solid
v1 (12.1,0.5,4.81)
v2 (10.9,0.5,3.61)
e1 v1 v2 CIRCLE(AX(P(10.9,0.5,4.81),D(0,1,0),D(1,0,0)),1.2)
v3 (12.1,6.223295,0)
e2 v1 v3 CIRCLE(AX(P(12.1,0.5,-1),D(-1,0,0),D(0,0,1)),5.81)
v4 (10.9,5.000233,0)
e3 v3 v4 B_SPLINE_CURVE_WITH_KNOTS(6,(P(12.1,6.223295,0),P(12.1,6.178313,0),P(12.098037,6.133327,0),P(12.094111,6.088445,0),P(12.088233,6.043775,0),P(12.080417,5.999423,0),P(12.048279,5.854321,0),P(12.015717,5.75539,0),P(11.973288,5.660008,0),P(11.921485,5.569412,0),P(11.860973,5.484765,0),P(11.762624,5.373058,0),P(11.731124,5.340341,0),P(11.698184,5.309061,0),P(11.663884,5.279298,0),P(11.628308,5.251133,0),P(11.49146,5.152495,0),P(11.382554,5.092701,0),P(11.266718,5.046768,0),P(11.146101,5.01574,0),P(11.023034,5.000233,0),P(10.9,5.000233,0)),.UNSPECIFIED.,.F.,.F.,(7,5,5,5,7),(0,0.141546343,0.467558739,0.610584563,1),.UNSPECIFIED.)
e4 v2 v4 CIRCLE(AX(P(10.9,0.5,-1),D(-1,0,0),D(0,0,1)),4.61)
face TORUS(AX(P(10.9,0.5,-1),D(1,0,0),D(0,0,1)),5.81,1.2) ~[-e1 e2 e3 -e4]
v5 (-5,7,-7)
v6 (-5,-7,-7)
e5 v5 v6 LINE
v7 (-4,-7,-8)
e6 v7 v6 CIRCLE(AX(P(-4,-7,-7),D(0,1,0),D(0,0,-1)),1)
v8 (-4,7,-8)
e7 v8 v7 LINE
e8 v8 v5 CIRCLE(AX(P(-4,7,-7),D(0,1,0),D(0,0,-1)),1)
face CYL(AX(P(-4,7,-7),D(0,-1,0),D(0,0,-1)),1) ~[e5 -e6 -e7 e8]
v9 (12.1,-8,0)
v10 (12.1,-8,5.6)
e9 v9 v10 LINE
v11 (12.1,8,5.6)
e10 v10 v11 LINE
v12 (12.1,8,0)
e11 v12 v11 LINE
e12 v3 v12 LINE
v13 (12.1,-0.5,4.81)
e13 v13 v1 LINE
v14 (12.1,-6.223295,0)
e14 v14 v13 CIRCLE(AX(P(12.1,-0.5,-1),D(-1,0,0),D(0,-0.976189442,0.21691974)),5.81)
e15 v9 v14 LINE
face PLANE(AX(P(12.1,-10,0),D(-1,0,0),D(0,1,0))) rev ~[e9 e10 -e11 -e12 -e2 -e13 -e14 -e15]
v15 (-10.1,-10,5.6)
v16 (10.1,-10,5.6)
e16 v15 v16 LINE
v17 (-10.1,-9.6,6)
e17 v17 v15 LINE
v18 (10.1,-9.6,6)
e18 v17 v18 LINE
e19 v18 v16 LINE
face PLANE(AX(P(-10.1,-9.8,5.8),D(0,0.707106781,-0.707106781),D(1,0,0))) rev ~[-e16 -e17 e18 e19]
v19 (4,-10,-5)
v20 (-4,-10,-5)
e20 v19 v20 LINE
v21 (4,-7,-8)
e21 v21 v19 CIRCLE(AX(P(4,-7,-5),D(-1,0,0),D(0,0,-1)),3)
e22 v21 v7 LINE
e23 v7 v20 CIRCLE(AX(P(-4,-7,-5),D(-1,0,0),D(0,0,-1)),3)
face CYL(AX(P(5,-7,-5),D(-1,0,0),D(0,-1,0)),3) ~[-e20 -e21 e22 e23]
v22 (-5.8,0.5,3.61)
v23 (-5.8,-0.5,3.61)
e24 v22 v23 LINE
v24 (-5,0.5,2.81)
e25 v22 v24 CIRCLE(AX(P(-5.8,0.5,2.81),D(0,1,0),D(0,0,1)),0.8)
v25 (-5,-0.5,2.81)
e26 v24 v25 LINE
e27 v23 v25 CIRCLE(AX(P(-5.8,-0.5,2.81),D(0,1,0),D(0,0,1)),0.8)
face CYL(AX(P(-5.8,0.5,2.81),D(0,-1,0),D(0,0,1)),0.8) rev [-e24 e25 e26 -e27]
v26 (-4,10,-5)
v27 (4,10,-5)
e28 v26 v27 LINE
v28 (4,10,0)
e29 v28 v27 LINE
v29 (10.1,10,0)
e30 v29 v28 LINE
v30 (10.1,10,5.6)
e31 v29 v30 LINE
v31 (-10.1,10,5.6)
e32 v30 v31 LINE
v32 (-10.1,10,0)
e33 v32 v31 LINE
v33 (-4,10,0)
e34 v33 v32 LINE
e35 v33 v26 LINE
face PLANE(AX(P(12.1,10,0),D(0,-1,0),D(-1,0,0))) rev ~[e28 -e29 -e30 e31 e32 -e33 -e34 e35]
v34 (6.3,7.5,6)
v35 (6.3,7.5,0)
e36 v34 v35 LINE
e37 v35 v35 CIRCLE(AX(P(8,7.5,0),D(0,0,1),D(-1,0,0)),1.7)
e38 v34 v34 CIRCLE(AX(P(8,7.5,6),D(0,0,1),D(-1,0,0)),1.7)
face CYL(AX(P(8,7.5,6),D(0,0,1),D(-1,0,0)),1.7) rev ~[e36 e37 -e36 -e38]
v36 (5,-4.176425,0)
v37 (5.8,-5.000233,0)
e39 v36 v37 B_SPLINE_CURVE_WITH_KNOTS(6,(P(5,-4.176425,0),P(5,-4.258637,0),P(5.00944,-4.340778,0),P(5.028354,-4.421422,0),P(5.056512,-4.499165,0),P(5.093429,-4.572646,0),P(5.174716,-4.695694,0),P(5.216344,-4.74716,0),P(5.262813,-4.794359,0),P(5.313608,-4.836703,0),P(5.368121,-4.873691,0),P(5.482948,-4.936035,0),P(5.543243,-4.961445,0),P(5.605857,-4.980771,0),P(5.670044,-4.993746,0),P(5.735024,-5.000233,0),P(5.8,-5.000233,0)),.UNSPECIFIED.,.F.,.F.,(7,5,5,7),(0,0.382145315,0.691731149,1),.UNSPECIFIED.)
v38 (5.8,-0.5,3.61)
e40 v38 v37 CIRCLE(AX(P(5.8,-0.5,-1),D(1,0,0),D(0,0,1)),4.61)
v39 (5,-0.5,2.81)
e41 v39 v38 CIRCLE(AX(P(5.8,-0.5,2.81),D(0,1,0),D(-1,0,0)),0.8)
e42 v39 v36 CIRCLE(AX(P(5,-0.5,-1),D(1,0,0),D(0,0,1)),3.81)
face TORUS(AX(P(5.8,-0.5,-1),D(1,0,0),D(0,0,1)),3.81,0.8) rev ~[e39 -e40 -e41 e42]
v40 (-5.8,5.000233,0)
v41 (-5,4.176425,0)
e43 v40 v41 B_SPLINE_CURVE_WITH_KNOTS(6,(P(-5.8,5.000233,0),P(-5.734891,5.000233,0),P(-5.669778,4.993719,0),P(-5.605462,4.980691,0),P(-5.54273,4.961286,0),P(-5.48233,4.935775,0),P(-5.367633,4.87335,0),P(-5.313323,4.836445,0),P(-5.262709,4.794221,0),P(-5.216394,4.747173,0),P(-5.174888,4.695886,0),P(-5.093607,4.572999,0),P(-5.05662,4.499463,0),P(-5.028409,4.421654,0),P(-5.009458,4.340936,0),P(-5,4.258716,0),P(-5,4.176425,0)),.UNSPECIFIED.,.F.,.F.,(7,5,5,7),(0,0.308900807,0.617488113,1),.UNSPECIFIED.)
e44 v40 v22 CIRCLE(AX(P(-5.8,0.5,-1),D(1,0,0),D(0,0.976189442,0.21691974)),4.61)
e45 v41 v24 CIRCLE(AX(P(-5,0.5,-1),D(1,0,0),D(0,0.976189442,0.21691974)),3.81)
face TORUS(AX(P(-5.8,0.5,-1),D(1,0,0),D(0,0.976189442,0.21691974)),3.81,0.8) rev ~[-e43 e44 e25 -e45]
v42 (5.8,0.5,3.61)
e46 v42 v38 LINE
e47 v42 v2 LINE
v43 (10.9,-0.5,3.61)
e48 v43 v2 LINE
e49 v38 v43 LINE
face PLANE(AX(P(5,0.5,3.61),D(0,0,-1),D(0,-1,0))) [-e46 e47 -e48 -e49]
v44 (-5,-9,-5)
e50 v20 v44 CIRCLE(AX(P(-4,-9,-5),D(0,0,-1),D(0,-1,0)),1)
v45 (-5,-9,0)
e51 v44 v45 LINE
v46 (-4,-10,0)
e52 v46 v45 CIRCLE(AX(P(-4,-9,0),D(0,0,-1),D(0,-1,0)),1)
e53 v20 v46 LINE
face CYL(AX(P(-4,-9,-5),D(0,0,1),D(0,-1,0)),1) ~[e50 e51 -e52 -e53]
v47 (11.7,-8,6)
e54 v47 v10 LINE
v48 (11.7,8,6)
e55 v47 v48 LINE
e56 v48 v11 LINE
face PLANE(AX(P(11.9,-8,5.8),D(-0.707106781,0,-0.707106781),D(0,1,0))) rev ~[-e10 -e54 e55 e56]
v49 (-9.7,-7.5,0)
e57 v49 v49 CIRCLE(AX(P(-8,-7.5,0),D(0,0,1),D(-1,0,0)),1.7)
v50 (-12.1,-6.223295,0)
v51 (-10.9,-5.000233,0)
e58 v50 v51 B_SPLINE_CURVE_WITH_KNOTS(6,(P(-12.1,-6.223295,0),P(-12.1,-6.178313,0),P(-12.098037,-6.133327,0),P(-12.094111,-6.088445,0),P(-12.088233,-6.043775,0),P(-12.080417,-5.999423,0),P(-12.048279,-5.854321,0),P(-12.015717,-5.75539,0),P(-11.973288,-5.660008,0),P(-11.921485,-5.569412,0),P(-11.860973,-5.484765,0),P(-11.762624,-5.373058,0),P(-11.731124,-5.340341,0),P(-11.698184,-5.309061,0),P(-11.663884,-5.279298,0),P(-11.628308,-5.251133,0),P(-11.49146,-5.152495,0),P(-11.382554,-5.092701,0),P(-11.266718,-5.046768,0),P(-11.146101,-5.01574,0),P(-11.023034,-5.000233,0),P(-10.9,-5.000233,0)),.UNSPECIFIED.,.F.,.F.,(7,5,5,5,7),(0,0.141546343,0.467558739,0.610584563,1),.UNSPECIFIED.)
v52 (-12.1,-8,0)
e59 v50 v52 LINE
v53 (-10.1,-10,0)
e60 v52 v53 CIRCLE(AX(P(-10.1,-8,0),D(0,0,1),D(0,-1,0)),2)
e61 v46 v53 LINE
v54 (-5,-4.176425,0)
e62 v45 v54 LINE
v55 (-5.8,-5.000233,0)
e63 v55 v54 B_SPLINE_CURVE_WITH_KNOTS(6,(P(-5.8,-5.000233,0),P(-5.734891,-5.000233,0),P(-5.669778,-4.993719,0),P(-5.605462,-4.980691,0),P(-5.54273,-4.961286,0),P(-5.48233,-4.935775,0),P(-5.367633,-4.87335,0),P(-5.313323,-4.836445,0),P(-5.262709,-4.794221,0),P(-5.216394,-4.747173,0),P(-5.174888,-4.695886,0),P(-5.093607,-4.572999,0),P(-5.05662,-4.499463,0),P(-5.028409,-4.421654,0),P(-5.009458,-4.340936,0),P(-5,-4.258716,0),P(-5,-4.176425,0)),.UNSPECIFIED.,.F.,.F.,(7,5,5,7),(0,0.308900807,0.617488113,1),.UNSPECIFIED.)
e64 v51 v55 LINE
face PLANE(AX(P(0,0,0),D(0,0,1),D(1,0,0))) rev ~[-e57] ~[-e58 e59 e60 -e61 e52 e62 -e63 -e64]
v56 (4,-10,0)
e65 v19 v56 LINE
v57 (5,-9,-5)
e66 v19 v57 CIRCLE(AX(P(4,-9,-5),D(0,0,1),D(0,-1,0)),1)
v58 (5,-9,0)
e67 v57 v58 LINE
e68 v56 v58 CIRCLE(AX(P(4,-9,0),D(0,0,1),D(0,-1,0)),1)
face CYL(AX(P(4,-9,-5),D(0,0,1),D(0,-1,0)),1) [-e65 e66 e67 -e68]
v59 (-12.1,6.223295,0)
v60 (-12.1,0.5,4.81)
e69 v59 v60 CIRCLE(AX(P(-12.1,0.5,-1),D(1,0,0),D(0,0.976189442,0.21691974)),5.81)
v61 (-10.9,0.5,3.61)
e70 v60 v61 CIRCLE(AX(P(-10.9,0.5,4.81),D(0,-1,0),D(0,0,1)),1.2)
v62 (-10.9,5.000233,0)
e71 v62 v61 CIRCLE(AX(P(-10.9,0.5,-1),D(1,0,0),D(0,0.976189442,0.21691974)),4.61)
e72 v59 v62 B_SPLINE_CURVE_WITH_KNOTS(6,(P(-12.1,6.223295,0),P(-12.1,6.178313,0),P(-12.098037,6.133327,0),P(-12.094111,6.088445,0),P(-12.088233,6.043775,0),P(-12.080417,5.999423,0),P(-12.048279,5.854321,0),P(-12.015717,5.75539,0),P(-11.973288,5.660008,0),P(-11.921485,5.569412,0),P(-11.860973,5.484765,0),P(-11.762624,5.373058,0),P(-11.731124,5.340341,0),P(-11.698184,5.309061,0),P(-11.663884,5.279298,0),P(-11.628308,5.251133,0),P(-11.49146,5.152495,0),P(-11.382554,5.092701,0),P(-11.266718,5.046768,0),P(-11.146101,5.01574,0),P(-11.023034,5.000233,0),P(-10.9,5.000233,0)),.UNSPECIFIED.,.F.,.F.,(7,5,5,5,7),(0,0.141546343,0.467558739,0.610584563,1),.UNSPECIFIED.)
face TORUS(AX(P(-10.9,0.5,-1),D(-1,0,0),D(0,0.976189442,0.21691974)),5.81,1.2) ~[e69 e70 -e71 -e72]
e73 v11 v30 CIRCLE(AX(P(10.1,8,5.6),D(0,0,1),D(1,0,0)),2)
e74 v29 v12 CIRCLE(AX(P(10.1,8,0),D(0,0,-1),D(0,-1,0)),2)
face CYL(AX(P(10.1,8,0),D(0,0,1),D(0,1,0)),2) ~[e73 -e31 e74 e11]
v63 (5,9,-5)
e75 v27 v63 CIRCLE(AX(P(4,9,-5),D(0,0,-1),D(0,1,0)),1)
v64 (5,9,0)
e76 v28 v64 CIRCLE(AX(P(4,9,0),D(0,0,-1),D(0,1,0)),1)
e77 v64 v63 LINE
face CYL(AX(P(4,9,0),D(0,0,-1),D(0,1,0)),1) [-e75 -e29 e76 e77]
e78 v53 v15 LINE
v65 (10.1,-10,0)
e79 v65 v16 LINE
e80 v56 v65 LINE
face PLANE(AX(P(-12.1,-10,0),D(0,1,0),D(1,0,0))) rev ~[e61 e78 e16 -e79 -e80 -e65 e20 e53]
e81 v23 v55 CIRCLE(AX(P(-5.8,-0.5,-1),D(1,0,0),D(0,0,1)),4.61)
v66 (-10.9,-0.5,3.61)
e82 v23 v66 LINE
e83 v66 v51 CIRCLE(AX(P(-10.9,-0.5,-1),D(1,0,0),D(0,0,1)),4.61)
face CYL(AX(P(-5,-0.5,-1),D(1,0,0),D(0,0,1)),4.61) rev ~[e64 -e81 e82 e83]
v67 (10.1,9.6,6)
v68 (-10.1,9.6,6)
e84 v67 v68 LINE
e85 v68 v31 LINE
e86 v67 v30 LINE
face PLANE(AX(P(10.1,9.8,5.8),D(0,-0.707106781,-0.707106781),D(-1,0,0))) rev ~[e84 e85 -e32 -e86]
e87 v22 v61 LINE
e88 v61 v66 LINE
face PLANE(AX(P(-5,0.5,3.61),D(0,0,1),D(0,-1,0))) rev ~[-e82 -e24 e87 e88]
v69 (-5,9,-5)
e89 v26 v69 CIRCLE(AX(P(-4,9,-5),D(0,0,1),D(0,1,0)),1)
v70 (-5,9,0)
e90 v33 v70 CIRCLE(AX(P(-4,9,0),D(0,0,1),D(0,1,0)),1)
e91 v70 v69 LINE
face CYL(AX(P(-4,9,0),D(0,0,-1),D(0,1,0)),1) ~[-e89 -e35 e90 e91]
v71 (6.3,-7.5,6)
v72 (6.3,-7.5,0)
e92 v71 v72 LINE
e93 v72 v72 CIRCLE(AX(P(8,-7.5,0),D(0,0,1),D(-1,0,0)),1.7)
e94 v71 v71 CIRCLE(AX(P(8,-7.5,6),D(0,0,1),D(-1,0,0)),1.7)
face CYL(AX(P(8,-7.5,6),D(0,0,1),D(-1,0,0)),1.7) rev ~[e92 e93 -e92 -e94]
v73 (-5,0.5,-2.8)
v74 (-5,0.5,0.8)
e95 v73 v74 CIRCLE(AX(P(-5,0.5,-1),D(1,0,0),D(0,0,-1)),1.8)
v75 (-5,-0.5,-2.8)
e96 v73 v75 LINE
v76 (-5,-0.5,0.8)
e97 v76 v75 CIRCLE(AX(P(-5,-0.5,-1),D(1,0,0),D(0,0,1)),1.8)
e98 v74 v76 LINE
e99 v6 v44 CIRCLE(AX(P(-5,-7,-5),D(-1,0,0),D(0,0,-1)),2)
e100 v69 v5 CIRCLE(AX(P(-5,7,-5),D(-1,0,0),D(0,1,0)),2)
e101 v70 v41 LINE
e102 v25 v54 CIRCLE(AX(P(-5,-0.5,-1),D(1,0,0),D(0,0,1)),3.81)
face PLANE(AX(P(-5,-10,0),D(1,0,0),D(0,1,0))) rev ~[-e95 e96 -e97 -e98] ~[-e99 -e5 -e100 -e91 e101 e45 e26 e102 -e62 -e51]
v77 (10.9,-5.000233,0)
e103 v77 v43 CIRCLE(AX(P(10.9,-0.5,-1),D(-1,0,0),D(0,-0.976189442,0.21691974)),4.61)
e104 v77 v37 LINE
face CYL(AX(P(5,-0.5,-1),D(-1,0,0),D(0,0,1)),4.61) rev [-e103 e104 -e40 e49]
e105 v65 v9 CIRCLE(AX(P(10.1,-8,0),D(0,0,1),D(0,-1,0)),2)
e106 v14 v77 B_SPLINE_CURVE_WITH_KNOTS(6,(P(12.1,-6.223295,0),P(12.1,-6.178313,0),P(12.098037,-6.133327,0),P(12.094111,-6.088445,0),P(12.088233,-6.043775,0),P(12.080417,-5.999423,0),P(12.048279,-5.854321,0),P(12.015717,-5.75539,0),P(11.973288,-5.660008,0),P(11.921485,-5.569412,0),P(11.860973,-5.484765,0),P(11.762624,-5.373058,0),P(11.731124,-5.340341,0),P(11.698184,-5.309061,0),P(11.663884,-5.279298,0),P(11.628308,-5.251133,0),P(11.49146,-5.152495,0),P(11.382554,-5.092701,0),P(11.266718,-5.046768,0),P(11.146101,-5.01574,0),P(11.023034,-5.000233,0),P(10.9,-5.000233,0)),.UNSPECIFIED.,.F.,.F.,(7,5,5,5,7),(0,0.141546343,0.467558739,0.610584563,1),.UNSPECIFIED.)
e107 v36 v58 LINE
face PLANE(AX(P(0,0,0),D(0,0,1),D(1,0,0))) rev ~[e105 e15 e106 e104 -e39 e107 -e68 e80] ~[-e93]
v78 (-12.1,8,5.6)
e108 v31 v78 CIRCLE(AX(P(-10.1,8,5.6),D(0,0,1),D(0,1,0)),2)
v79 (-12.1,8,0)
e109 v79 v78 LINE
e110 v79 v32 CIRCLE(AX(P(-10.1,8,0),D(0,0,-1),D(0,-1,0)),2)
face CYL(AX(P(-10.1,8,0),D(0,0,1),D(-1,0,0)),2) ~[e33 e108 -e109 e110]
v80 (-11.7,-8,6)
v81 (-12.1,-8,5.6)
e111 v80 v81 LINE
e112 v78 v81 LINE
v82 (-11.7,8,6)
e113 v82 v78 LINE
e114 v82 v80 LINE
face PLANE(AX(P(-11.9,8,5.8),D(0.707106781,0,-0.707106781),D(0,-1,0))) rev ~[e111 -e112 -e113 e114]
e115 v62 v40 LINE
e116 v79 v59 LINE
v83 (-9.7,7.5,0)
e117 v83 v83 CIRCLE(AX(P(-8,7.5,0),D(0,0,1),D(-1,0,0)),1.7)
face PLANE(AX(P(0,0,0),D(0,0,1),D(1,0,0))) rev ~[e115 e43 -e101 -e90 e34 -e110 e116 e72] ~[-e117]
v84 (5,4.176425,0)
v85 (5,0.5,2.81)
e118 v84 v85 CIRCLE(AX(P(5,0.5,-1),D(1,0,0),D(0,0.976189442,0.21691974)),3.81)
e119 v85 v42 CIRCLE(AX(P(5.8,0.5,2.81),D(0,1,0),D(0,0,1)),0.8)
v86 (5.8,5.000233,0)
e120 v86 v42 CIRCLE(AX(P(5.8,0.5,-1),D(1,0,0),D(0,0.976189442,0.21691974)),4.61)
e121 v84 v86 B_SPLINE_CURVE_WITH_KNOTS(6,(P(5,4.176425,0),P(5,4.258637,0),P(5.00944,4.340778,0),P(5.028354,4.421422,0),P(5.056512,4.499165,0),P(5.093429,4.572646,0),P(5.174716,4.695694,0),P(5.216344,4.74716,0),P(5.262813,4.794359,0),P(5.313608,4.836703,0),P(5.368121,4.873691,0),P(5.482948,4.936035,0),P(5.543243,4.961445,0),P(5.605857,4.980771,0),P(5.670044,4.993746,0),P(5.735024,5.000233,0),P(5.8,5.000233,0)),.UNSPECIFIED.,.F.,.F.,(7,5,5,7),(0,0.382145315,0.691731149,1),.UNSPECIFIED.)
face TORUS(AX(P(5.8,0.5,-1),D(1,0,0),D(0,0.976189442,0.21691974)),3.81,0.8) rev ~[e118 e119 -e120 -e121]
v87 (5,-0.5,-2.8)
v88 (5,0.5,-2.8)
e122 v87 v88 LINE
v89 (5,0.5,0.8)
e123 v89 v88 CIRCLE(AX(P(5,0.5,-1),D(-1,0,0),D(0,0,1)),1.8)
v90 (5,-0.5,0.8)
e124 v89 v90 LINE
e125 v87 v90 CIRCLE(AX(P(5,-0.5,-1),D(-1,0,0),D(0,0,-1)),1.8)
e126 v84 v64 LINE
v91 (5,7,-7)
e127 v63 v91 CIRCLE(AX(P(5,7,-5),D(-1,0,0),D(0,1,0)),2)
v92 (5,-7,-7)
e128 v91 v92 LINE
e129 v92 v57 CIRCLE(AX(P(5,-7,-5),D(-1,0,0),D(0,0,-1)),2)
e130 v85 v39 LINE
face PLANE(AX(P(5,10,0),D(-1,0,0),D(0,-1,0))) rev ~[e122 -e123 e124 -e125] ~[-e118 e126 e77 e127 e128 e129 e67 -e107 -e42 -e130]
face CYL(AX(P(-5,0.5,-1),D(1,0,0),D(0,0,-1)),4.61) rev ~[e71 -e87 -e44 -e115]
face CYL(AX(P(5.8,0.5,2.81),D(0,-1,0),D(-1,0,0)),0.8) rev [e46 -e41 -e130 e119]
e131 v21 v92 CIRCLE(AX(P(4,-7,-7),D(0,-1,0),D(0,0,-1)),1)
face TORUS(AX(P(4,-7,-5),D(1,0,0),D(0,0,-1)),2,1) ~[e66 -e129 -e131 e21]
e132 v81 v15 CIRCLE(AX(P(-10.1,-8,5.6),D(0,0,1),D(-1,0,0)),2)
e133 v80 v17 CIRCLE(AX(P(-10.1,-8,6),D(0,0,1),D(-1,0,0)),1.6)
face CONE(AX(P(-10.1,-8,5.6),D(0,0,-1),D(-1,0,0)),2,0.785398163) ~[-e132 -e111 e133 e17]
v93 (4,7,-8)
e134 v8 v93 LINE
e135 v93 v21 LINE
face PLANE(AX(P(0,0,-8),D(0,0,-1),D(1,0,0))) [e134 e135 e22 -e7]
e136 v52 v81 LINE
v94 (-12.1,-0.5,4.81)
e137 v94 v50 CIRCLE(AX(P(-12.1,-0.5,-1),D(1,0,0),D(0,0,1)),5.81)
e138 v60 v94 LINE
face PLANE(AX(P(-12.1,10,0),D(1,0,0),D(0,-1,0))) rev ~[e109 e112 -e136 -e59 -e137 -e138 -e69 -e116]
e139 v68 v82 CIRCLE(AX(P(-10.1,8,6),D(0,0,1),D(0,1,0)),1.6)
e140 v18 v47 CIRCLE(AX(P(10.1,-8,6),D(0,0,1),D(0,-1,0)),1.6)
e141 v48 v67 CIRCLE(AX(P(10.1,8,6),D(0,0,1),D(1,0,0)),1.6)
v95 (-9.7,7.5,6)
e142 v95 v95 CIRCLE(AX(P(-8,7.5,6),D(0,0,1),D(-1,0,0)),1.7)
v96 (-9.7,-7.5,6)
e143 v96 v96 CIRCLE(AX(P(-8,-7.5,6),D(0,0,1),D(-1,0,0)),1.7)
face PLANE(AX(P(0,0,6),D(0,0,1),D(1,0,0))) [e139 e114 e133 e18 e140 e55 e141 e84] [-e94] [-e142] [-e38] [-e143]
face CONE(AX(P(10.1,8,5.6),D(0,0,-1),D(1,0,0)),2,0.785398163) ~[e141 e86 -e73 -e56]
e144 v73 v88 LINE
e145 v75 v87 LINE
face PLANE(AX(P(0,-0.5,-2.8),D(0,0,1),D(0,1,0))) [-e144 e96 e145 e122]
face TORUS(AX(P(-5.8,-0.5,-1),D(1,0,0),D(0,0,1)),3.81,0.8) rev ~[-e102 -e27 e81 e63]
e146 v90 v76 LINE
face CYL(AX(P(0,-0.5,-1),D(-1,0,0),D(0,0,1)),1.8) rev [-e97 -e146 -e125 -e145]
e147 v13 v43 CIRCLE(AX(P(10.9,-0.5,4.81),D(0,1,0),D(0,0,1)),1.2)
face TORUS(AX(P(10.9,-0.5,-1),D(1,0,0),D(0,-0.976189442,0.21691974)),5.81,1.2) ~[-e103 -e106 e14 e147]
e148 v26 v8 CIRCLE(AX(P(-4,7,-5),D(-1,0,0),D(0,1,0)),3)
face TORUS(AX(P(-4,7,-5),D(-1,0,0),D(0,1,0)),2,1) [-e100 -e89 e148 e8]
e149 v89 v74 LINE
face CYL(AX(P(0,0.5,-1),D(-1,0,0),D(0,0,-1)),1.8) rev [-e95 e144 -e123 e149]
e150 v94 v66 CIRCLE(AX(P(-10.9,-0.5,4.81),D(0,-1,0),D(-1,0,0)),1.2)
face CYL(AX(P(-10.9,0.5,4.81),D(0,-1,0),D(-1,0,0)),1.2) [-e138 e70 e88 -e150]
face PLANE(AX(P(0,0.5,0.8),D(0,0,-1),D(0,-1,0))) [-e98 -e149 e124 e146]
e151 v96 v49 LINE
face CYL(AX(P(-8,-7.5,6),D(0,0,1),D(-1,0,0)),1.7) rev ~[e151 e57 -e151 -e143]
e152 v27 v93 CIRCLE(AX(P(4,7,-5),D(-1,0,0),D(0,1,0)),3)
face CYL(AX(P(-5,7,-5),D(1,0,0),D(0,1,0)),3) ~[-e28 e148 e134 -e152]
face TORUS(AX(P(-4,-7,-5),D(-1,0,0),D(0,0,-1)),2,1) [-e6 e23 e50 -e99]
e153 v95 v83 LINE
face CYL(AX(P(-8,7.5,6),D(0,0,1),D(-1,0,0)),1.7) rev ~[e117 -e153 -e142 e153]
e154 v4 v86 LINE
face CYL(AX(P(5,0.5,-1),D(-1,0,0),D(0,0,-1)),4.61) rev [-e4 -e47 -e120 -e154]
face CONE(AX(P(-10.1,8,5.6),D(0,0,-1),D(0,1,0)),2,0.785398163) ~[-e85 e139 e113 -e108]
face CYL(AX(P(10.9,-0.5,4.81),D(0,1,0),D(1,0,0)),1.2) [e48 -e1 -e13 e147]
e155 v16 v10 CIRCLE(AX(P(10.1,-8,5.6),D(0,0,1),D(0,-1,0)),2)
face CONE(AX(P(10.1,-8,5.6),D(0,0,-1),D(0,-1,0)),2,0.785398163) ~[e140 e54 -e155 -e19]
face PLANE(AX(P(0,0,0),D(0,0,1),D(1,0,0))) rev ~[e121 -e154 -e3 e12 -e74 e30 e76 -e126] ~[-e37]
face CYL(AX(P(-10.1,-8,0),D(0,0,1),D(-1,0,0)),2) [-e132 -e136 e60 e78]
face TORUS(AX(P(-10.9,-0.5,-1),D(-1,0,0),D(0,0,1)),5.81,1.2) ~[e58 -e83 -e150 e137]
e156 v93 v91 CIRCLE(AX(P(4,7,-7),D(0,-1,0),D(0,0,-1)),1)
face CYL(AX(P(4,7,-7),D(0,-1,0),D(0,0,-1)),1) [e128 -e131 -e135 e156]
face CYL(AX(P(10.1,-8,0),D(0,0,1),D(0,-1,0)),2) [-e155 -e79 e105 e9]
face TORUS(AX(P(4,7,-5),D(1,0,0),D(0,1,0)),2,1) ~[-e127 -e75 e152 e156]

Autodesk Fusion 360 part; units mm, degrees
sketch "Sketch1" plane through (0, 0, 0) normal (0, 0, 1) x (1, 0, 0) in component "x_carriage_pivot_block"
  line L0 (12.1, 10) -> (-12.1, 10)
  line L1 (-12.1, 10) -> (-12.1, -10)
  line L2 (-12.1, -10) -> (12.1, -10)
  line L3 (12.1, -10) -> (12.1, 10)
  line L4 (12.1, 10) -> (-12.1, -10) construction
  line L5 (-12.1, 10) -> (12.1, -10) construction
  dimension "d1" = 24.2
  dimension "d2" = 20
extrude "Extrude1" add sketch "Sketch1" along normal blind 6 in component "x_carriage_pivot_block"
sketch "Sketch2" plane through (0, 0, 0) normal (0, 0, -1) x (1, 0, 0) in component "x_carriage_pivot_block"
  line L0 (12.1, -10) -> (12.1, 10)
  line L1 (12.1, 10) -> (-12.1, 10)
  line L2 (-12.1, 10) -> (-12.1, -10)
  line L3 (-12.1, -10) -> (12.1, -10)
  line L4 (5, 10) -> (-5, 10)
  line L5 (-5, 10) -> (-5, -10)
  line L6 (-5, -10) -> (5, -10)
  line L7 (5, -10) -> (5, 10)
  line L8 (5, 10) -> (-5, -10) construction
  line L9 (-5, 10) -> (5, -10) construction
  dimension "d5" = 10
  dimension "d6" = 20
extrude "Extrude2" add sketch "Sketch2" along normal blind 8 contours L1 L3 L4 L5 L6 L7 in component "x_carriage_pivot_block"
sketch "Sketch3" plane through (0, 0, 0) normal (1, 0, 0) x (0, 1, 0) in component "x_carriage_pivot_block"
  line L0 (10, 0) -> (10, 6) construction
  line L1 (10, 6) -> (-10, 6) construction
  line L2 (-10, 6) -> (-10, 0) construction
  line L3 (-10, 0) -> (-10, -8) construction
  line L4 (-10, -8) -> (10, -8) construction
  line L5 (10, -8) -> (10, 0) construction
  line L6 (-0.5, -2.8) -> (0.5, -2.8)
  arc A0 (0.5, -2.8) -> (0.5, 0.8) centre (0.5, -1) ccw
  line L7 (0.5, 0.8) -> (-0.5, 0.8)
  arc A1 (-0.5, 0.8) -> (-0.5, -2.8) centre (-0.5, -1) ccw
  line L8 (-0.5, -1) -> (0.5, -1) construction
  line L9 (0, 6) -> (0, -8) construction
  line L10 (-0.5, -5.61) -> (0.5, -5.61)
  arc A2 (0.5, -5.61) -> (0.5, 3.61) centre (0.5, -1) ccw
  line L11 (0.5, 3.61) -> (-0.5, 3.61)
  arc A3 (-0.5, 3.61) -> (-0.5, -5.61) centre (-0.5, -1) ccw
  line L12 (-0.5, -1) -> (0.5, -1) construction
  point P0 (0, -1)
  dimension "d9" = 3.6
  dimension "d11" = 1
  dimension "d12" = 9.22
extrude "Extrude3" cut sketch "Sketch3" along normal through all and the other way through all contours L6 A0 L7 A1 in component "x_carriage_pivot_block"
extrude "Extrude4" cut sketch "Sketch3" along normal through all from surface at 5 in component "x_carriage_pivot_block"
extrude "Extrude5" cut sketch "Sketch3" against normal through all from surface at -5 in component "x_carriage_pivot_block"
sketch "Sketch4" plane through (0, 0, 6) normal (0, 0, 1) x (-1, 0, 0) in component "x_carriage_pivot_block"
  line L0 (-12.1, 10) -> (-12.1, -10)
  line L1 (-12.1, -10) -> (12.1, -10)
  line L2 (12.1, -10) -> (12.1, 10)
  line L3 (12.1, 10) -> (-12.1, 10)
  circle A0 centre (8, -7.5) radius 1.7
  line L4 (0, 0) -> (0, -13) construction
  line L5 (0, 0) -> (-15, 0) construction
  circle A1 centre (-8, -7.5) radius 1.7
  circle A2 centre (8, 7.5) radius 1.7
  circle A3 centre (-8, 7.5) radius 1.7
  dimension "d19" = 3.4
  dimension "d20" = 16
  dimension "d21" = 15
extrude "Extrude6" cut sketch "Sketch4" against normal through all contours A0 | A1 | A2 | A3 in component "x_carriage_pivot_block"
fillet "Fillet1" radius 3 2 edges at (0, -10, -8) (0, 10, -8) in component "x_carriage_pivot_block"
fillet "Fillet2" radius 1 10 edges at (-5, 10, -2.5) (-5, 9.1213, -7.1213) (-5, 0, -8) (-5, -9.1213, -7.1213) (-5, -10, -2.5) (5, 10, -2.5) (5, 9.1213, -7.1213) (5, 0, -8) (5, -9.1213, -7.1213) (5, -10, -2.5) in component "x_carriage_pivot_block"
fillet "Fillet3" radius 1.2 6 edges at (-12.1, 3.3846, 2.596) (-12.1, 0, 3.61) (-12.1, -3.3846, 2.596) (12.1, -3.3846, 2.596) (12.1, 0, 3.61) (12.1, 3.3846, 2.596) in component "x_carriage_pivot_block"
fillet "Fillet4" radius 0.8 6 edges at (-5, 3.3846, 2.596) (-5, 0, 3.61) (-5, -3.3846, 2.596) (5, -3.3846, 2.596) (5, 0, 3.61) (5, 3.3846, 2.596) in component "x_carriage_pivot_block"
fillet "Fillet5" radius 2 4 edges at (-12.1, 10, 3) (-12.1, -10, 3) (12.1, -10, 3) (12.1, 10, 3) in component "x_carriage_pivot_block"
chamfer "Chamfer1" distance 0.4 angle 45 8 edges at (12.1, 0, 6) (11.5142, 9.4142, 6) (0, 10, 6) (-11.5142, 9.4142, 6) (-12.1, 0, 6) (-11.5142, -9.4142, 6) (0, -10, 6) (11.5142, -9.4142, 6) in component "x_carriage_pivot_block"
component "x_carriage_pivot_block" placed x (1, 0, 0) y (0, 1, 0) z (0, 0, 1) at (0, 0, 0)
equation "pivot_movement = 1 mm"
equation "d11 = pivot_movement"
equation "d12 = ( 4.61 * 2 ) * 1 mm"
equation "d19 = ( 1.7 * 2 ) * 1 mm"
equation "d33 = chamfer"
equation "chamfer = 0.4 mm"
